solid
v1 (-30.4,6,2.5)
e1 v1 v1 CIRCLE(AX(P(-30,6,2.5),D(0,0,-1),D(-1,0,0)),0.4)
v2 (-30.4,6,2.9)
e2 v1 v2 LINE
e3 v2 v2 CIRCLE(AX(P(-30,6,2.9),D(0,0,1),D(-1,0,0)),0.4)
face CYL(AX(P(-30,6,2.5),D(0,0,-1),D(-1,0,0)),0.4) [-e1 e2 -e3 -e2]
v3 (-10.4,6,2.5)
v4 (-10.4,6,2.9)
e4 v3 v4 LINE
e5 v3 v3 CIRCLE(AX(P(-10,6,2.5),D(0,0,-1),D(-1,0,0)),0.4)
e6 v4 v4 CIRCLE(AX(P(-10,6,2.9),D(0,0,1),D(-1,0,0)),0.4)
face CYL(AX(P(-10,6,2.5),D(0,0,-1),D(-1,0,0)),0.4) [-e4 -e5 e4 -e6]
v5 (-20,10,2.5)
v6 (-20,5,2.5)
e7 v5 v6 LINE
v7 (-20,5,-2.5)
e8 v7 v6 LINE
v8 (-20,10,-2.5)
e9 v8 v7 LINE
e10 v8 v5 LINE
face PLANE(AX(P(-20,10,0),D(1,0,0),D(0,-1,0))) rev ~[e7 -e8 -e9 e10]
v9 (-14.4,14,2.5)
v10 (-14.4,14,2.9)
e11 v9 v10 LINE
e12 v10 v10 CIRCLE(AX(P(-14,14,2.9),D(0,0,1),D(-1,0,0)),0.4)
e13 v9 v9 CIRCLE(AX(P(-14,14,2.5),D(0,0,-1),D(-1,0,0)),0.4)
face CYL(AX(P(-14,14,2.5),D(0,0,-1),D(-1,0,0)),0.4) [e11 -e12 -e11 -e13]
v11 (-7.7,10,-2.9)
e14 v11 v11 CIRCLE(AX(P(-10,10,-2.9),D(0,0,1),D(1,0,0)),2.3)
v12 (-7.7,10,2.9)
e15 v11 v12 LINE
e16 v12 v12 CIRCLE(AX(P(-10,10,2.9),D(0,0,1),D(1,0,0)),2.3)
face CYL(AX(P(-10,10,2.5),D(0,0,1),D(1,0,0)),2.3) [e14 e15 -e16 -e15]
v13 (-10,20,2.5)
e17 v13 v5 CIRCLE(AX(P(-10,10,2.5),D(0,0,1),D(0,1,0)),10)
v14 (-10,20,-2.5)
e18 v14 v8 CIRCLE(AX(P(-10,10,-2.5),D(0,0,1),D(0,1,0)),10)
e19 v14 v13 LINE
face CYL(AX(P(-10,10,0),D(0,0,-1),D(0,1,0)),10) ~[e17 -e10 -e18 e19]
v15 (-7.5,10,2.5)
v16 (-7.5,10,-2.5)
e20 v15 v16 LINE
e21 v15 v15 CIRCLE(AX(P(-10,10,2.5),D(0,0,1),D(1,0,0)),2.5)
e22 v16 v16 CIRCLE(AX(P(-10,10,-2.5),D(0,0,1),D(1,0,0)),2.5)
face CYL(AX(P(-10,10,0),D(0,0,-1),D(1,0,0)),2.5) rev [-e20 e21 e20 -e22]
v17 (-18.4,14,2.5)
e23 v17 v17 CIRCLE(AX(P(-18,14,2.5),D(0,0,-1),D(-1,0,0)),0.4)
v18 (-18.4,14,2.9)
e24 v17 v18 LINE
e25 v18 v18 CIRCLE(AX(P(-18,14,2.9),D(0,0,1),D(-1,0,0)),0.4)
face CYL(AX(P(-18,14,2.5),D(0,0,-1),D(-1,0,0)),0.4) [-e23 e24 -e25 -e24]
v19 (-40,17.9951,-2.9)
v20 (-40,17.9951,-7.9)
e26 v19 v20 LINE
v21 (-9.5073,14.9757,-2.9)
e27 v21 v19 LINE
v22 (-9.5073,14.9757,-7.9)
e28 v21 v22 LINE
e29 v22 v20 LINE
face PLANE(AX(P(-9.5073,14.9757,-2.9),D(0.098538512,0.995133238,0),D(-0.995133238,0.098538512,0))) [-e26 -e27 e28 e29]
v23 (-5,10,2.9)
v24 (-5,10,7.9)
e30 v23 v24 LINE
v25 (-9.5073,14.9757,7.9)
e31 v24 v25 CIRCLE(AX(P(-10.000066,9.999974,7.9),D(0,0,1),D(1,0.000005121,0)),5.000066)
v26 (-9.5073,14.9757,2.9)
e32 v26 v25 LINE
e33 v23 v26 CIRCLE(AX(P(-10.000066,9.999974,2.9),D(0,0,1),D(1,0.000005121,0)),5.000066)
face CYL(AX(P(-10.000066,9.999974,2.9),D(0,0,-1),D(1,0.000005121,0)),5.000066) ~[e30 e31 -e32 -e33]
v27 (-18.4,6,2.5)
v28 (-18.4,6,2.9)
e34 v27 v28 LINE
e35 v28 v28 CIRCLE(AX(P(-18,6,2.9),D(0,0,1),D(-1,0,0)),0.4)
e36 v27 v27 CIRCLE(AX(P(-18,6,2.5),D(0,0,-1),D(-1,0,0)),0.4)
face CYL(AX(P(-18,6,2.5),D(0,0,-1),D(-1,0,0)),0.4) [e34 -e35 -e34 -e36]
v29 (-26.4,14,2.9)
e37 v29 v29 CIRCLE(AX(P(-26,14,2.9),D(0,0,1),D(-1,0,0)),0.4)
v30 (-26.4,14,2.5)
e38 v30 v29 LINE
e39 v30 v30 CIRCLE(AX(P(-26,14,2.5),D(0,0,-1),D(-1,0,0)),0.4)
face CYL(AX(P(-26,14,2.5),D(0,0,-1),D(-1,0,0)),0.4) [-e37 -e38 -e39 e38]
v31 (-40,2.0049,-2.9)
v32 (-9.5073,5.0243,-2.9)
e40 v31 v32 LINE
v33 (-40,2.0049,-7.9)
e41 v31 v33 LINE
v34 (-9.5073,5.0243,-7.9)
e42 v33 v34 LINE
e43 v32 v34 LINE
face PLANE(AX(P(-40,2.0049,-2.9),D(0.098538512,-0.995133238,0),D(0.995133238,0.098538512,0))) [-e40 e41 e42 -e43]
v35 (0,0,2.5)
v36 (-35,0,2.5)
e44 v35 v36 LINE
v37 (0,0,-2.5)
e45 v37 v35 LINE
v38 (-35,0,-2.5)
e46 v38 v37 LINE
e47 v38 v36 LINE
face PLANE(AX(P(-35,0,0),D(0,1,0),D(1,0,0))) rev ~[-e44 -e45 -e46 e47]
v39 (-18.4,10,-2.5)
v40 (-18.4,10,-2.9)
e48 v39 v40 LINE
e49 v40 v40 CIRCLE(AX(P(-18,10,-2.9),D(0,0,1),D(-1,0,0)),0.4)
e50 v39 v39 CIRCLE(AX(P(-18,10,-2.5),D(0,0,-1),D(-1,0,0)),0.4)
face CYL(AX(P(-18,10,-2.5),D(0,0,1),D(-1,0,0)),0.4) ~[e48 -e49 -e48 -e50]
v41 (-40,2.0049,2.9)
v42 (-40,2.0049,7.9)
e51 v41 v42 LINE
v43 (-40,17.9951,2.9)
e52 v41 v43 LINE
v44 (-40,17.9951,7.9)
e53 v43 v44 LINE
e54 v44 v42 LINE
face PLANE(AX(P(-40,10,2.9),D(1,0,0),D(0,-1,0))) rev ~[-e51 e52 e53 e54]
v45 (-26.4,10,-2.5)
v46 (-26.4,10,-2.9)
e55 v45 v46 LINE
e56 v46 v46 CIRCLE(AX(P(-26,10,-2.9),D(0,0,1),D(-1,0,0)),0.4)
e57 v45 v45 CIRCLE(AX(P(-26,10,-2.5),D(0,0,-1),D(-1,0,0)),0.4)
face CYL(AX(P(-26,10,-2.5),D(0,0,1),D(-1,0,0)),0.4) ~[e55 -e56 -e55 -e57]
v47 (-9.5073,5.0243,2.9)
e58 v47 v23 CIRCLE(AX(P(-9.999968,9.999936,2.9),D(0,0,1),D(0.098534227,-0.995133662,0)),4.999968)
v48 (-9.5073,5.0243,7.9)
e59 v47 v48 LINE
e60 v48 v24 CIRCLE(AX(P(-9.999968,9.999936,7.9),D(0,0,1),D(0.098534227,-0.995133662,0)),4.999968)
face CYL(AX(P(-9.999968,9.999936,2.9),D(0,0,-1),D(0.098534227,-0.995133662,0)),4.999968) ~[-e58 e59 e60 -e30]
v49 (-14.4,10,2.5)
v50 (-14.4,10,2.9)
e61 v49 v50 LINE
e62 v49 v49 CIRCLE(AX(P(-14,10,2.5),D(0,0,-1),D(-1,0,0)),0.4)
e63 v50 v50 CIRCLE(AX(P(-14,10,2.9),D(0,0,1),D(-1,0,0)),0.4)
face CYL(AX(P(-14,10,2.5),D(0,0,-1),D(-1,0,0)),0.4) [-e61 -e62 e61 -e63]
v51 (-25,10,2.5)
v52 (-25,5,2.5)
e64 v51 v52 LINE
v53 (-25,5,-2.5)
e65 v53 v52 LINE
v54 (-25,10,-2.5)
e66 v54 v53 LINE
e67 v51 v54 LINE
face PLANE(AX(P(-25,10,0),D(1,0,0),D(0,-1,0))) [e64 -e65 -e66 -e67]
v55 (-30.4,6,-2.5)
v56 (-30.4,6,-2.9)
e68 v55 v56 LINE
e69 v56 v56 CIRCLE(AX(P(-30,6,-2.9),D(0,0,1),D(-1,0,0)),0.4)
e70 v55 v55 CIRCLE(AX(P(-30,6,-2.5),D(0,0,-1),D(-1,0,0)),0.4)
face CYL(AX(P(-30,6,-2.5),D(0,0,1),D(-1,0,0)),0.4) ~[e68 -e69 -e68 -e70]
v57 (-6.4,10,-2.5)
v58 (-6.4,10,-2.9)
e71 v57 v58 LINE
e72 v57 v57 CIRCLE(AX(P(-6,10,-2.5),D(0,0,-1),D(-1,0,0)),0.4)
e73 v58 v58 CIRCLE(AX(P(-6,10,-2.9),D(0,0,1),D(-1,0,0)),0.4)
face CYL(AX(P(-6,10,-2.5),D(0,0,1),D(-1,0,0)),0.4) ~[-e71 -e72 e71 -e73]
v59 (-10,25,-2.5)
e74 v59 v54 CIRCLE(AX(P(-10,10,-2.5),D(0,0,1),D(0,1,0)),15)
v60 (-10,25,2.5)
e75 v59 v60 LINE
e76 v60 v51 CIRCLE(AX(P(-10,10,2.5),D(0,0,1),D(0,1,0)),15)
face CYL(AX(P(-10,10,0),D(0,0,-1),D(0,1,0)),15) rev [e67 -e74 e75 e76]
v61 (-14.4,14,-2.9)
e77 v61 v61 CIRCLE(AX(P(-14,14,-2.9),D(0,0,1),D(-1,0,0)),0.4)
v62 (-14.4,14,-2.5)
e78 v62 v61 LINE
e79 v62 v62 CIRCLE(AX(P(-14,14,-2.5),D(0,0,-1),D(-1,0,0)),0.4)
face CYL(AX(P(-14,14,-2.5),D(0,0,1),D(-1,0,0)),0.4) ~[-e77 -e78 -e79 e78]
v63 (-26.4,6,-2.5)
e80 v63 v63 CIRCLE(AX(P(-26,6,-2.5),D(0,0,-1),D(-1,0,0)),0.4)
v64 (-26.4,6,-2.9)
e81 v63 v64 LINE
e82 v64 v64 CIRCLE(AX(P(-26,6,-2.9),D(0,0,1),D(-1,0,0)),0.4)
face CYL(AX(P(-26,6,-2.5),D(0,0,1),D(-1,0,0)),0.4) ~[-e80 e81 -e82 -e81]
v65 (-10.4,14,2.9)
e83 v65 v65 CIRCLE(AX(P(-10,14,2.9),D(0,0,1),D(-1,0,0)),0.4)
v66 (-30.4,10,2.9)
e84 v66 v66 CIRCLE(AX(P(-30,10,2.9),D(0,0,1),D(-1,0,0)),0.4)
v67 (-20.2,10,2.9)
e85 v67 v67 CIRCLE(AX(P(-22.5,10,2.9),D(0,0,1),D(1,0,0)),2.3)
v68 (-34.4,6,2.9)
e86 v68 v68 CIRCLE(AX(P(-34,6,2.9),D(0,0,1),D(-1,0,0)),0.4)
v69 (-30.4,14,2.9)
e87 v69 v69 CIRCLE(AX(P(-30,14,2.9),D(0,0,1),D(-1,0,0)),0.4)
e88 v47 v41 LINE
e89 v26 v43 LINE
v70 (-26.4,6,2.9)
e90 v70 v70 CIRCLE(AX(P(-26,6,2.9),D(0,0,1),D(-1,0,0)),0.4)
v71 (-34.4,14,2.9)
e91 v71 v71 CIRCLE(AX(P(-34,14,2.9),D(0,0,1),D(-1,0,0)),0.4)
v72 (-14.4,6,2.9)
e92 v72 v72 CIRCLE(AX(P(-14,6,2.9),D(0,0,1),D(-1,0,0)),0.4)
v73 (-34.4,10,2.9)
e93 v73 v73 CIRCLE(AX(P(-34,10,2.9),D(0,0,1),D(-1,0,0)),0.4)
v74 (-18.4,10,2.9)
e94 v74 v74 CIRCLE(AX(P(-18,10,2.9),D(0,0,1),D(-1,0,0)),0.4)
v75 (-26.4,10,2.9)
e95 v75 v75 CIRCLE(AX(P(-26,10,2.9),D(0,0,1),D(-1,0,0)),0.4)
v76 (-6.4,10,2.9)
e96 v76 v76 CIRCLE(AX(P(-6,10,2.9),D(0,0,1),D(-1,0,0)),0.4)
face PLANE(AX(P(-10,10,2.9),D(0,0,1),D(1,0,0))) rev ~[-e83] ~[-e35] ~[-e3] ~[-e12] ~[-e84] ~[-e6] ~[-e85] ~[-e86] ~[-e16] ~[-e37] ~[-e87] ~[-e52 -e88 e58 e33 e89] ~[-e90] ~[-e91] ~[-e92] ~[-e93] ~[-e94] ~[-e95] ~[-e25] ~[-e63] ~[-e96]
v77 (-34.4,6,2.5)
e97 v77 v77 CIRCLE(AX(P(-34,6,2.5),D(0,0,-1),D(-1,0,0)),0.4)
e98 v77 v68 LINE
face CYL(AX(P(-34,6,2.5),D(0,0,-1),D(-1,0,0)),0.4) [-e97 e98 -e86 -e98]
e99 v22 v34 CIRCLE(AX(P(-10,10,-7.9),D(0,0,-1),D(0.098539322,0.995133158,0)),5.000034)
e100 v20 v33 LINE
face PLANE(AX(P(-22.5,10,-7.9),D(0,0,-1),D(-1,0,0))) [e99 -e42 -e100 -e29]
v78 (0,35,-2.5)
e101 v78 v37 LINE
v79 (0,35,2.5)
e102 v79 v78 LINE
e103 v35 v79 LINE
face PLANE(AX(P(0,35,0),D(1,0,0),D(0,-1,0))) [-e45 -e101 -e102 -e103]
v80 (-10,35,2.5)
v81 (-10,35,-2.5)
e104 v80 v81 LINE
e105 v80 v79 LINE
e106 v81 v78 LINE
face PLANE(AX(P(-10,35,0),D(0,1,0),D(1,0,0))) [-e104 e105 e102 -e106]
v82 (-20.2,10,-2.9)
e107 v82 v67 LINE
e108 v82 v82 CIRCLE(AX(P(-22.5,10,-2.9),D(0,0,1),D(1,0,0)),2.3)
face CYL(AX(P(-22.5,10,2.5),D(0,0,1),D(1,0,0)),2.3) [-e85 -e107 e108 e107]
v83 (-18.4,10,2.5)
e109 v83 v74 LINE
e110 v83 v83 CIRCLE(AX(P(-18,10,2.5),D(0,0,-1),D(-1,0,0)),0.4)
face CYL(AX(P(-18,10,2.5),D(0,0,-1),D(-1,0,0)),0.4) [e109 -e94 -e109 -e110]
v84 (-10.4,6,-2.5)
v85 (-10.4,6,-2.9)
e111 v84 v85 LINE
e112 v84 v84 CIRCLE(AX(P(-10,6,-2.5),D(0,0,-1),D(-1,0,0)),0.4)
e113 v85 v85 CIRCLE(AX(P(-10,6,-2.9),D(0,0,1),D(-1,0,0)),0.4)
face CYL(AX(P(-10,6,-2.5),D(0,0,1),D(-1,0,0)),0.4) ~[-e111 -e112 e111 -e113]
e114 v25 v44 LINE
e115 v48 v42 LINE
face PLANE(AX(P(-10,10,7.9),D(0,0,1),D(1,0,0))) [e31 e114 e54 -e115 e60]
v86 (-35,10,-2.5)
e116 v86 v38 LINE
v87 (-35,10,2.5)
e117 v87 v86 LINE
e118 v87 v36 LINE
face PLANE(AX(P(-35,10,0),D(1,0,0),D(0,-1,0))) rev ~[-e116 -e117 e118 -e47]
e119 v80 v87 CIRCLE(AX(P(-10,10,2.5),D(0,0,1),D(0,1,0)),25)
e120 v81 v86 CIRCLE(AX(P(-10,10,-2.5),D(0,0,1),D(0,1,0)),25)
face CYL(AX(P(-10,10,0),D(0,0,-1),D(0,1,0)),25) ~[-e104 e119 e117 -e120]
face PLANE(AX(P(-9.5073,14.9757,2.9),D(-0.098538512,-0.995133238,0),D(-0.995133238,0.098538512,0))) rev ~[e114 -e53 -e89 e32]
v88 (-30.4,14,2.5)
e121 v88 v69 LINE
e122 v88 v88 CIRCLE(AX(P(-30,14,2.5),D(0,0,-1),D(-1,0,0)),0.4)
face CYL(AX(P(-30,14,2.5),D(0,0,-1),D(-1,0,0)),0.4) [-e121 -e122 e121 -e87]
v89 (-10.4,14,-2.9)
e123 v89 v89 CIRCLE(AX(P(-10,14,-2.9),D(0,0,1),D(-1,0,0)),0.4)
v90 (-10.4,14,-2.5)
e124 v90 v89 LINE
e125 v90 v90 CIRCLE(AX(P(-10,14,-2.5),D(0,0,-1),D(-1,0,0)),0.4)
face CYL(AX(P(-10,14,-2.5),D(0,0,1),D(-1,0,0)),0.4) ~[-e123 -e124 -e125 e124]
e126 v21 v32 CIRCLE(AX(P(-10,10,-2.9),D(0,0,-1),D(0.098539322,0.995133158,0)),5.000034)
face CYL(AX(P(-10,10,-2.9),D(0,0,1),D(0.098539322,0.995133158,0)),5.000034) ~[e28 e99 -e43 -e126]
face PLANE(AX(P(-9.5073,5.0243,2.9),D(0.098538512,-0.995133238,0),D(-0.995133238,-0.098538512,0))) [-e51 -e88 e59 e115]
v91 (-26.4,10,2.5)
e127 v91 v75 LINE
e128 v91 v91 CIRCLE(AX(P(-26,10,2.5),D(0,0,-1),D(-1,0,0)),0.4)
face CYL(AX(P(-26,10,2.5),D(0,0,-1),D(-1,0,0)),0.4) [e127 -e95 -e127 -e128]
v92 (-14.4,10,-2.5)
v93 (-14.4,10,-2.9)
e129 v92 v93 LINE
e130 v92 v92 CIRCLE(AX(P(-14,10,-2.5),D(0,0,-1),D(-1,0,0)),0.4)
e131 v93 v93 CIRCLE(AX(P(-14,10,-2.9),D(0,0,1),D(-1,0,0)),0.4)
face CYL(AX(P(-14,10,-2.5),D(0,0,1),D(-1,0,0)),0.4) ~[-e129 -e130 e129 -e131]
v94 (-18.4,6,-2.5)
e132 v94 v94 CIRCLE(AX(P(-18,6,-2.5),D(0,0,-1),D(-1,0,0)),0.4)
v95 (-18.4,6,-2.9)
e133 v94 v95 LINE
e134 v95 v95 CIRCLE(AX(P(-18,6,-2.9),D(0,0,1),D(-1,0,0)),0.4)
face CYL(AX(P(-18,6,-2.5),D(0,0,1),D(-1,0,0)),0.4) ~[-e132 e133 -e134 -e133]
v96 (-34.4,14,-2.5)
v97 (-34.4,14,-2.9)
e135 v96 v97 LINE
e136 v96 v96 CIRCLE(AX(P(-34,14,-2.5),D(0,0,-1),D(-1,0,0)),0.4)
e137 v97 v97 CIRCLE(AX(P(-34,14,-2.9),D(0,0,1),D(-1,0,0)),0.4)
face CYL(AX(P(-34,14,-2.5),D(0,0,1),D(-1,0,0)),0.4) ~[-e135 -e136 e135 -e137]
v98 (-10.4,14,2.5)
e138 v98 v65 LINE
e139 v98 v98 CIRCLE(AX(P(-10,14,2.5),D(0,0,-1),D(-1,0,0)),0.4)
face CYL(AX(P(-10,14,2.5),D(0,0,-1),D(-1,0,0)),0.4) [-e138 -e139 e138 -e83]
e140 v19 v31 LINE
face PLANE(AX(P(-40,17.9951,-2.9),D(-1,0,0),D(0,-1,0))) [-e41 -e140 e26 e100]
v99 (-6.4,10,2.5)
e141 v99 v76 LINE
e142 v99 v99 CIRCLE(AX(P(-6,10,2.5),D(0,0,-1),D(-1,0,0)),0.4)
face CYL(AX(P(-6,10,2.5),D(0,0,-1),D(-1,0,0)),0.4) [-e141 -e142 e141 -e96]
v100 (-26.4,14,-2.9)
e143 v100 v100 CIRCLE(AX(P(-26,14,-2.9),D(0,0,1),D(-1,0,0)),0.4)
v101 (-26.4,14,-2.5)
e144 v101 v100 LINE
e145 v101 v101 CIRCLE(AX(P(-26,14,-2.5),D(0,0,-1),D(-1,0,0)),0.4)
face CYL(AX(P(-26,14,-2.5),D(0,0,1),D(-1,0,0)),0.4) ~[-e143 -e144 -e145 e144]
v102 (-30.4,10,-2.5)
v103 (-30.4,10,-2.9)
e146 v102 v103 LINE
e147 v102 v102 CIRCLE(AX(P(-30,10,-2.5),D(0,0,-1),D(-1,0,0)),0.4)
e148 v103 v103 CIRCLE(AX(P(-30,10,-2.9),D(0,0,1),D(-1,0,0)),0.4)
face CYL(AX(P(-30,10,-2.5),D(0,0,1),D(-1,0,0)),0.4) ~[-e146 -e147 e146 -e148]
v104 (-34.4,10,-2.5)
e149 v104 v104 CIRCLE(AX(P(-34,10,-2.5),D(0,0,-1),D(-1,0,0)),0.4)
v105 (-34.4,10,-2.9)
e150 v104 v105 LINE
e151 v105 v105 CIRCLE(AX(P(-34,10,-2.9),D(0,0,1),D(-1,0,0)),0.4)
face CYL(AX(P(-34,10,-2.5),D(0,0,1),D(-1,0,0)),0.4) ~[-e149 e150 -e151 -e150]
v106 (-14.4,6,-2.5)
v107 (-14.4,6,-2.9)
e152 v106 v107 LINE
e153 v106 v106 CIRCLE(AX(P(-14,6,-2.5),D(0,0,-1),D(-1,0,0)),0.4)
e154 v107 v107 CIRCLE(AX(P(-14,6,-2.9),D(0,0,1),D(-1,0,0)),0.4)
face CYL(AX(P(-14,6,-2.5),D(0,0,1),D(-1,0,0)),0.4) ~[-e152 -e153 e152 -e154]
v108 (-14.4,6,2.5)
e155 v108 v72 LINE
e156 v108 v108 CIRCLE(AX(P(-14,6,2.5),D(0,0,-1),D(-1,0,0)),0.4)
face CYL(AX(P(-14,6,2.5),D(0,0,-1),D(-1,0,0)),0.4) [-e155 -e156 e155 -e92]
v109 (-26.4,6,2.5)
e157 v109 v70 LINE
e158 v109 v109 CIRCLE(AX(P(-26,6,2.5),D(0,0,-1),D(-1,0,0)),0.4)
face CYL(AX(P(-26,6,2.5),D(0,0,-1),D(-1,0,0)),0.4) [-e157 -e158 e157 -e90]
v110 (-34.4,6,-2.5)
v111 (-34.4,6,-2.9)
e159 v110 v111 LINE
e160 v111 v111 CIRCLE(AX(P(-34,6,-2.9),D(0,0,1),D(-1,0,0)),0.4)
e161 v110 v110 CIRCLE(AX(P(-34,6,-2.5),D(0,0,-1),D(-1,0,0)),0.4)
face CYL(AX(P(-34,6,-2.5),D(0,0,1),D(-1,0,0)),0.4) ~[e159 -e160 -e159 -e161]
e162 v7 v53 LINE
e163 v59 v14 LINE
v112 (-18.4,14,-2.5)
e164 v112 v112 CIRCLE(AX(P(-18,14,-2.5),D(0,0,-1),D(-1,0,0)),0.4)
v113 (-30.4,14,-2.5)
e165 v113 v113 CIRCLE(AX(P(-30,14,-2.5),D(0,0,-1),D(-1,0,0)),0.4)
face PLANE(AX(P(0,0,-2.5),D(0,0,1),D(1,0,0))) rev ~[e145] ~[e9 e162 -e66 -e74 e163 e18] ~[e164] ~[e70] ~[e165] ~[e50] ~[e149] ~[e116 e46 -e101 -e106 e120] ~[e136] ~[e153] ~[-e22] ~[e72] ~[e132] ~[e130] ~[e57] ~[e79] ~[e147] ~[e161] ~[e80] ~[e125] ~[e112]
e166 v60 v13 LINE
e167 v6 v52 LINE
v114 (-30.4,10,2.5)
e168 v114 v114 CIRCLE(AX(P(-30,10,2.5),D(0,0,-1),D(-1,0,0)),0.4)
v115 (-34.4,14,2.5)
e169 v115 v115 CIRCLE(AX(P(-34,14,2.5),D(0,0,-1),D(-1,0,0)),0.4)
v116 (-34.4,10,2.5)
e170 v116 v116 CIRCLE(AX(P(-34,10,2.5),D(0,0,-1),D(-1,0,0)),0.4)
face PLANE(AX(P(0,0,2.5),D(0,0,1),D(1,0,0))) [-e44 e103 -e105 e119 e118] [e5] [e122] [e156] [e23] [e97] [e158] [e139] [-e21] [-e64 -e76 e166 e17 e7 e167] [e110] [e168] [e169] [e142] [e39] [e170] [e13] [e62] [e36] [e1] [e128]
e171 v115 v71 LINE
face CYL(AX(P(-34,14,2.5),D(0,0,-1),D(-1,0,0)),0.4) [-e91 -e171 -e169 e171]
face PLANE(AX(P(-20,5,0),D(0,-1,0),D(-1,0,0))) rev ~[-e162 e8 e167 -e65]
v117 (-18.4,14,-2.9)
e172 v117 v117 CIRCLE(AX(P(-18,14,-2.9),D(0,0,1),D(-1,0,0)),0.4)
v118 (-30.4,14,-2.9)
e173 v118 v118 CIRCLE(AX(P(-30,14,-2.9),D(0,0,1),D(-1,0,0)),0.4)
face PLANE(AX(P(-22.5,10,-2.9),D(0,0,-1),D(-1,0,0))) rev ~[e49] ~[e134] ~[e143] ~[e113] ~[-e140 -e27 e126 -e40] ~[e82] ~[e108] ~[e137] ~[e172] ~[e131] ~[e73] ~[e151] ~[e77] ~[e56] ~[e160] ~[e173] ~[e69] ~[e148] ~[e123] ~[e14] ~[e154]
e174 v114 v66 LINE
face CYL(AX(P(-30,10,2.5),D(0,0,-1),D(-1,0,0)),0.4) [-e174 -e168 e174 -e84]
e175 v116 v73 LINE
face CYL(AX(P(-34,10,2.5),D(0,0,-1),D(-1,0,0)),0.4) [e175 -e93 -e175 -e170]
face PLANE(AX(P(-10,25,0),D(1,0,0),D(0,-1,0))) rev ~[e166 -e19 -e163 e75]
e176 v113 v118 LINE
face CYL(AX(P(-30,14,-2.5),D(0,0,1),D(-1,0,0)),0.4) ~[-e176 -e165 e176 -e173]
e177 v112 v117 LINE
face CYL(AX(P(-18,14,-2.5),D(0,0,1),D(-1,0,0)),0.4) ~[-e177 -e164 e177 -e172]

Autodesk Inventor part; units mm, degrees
ref_plane "YZ Plane" through (0, 0, 0) normal (1, 0, 0) x (0, 1, 0)
ref_plane "XZ Plane" through (0, 0, 0) normal (0, 1, 0) x (-1, 0, 0)
ref_plane "XY Plane" through (0, 0, 0) normal (0, 0, 1) x (1, 0, 0)
sketch "Boceto1" plane through (0, 0, 0) normal (0, 0, 1) x (1, 0, 0)
  line L0 (-35, 0) -> (15, 0)
  line L1 (-20, 10) -> (-20, 0)
  arc A0 (-10, 20) -> (-20, 10) centre (-10, 10) ccw
  arc A1 (-10, 25) -> (-25, 10) centre (-10, 10) ccw
  line L2 (-25, 10) -> (-25, 0)
  arc A2 (-10, 35) -> (-35, 10) centre (-10, 10) ccw
  line L3 (-35, 10) -> (-35, 0)
  line L4 (-35, 0) -> (-10, 0)
  circle A3 centre (-10, 10) radius 2.5
  line L5 (-10, 20) -> (0, 20)
  line L6 (0, 20) -> (0, 21.1803)
  line L7 (0, 25) -> (-10, 25)
  line L8 (-10, 35) -> (0, 35)
  line L9 (0, 35) -> (0, 25)
  line L10 (0, 20) -> (0, 0)
  line L11 (0, 0) -> (-10, 0)
  line L12 (0, 25) -> (0, 20)
  line L13 (-10, 25) -> (-10, 20)
  line L14 (-20, 5) -> (-25, 5)
  point P0 (0, 0)
  dimension "d0" = 20
  dimension "d1" = 25
  dimension "d2" = 10
  dimension "d3" = 10
  dimension "d4" = 5
  dimension "d6" = 35
extrude "Extrusión1" add sketch "Boceto1" along normal mid plane 5 contours L3 A2 L8 L9 L7 A1 L2 L0 | L2 L14 L1 L0 | L1 A0 L5 L10 L0 | L7 L12 L6 L5 L13
sketch "Boceto2" plane through (0, 0, 2.5) normal (0, 0, 1) x (1, 0, 0)
  circle A0 centre (-10, 10) radius 2.3
  circle A1 centre (-22.5, 10) radius 2.3
  circle A2 centre (-10, 10) radius 2.5 projected
  point P0 (0, 0)
  dimension "d9" = 4.6
  dimension "d10" = 4.6
extrude "Extrusión2" add sketch "Boceto2" along normal blind 0.4 and the other way blind 5.4 contours A0 | A1
sketch "Boceto3" plane through (-10, 10, 2.9) normal (0, 0, 1) x (1, 0, 0)
  arc A0 (5, 0) -> (0.4927, 4.9757) centre (0, 0) ccw
  line L0 (-30, 0) -> (-30, 7.9951)
  line L1 (0.4927, 4.9757) -> (-30, 7.9951)
  line L2 (-30, 0) -> (-30, -7.9951)
  line L3 (0.4927, -4.9757) -> (-30, -7.9951)
  arc A1 (0.4927, -4.9757) -> (5, 0) centre (0, 0) ccw
  circle A2 centre (0, 0) radius 2.3 projected
  point P0 (10, -10)
  dimension "d15" = 10
extrude "Extrusión3" add sketch "Boceto3" along normal blind 5 contours A1 L3 L2 L0 L1 A0 | A2
sketch "Boceto4" plane through (-22.5, 10, -2.9) normal (0, 0, -1) x (-1, 0, 0)
  circle A0 centre (0, 0) radius 2.3 projected
  circle A1 centre (-12.5, 0) radius 2.3 projected
  line L0 (-12.9927, 4.9757) -> (17.5, 7.9951) projected
  arc A2 (-12.9927, 4.9757) -> (-12.9927, -4.9757) centre (-12.5, 0) ccw projected
  line L1 (17.5, -7.9951) -> (-12.9927, -4.9757) projected
  line L2 (17.5, 7.9951) -> (17.5, -7.9951) projected
  point P0 (-22.5, -10)
extrude "Extrusión4" add sketch "Boceto4" along normal blind 5 contours A0 | A1 | L0 L2 L1 A2
sketch "Boceto5" plane through (0, 0, -2.5) normal (0, 0, -1) x (-1, 0, 0)
  circle A0 centre (10, 10) radius 2.3 projected
  circle A1 centre (10, 10) radius 0.4
  line L0 (10, 10) -> (10, 1.6419)
  line L1 (10, 1.6419) -> (12.8355, 1.6419)
  circle A2 centre (10, 6) radius 0.4
  circle A3 centre (10, 6) radius 0.4
  circle A4 centre (14, 10) radius 0.4
  circle A5 centre (14, 6) radius 0.4
  circle A6 centre (12, 6) radius 0.4
  circle A7 centre (18, 10) radius 0.4
  circle A8 centre (18, 6) radius 0.4
  circle A9 centre (14, 6) radius 0.4
  circle A10 centre (22, 10) radius 0.4
  circle A11 centre (22, 6) radius 0.4
  circle A12 centre (16, 6) radius 0.4
  circle A13 centre (26, 10) radius 0.4
  circle A14 centre (26, 6) radius 0.4
  circle A15 centre (18, 6) radius 0.4
  circle A16 centre (30, 10) radius 0.4
  circle A17 centre (30, 6) radius 0.4
  circle A18 centre (20, 6) radius 0.4
  circle A19 centre (34, 10) radius 0.4
  circle A20 centre (34, 6) radius 0.4
  circle A21 centre (22, 6) radius 0.4
  circle A22 centre (24, 10) radius 0.4
  circle A23 centre (24, 8) radius 0.4
  circle A24 centre (24, 6) radius 0.4
  circle A25 centre (26, 10) radius 0.4
  circle A26 centre (26, 8) radius 0.4
  circle A27 centre (26, 6) radius 0.4
  circle A28 centre (28, 10) radius 0.4
  circle A29 centre (28, 8) radius 0.4
  circle A30 centre (28, 6) radius 0.4
  circle A31 centre (30, 10) radius 0.4
  circle A32 centre (30, 8) radius 0.4
  circle A33 centre (30, 6) radius 0.4
  circle A34 centre (32, 10) radius 0.4
  circle A35 centre (32, 8) radius 0.4
  circle A36 centre (32, 6) radius 0.4
  circle A37 centre (34, 10) radius 0.4
  circle A38 centre (34, 8) radius 0.4
  circle A39 centre (34, 6) radius 0.4
  circle A40 centre (36, 10) radius 0.4
  circle A41 centre (36, 8) radius 0.4
  circle A42 centre (36, 6) radius 0.4
  circle A43 centre (38, 10) radius 0.4
  circle A44 centre (38, 8) radius 0.4
  circle A45 centre (38, 6) radius 0.4
  circle A46 centre (10, 14) radius 0.4
  line L2 (10, 14) -> (10, 5.6419)
  circle A47 centre (10, 10) radius 0.4
  circle A48 centre (18, 14) radius 0.4
  circle A49 centre (18, 10) radius 0.4
  circle A50 centre (14, 10) radius 0.4
  circle A51 centre (14, 14) radius 0.4
  circle A52 centre (14, 10) radius 0.4
  circle A53 centre (12, 10) radius 0.4
  circle A54 centre (10, 10) radius 0.4
  circle A55 centre (16, 10) radius 0.4
  circle A56 centre (34, 14) radius 0.4
  circle A57 centre (34, 10) radius 0.4
  circle A58 centre (22, 10) radius 0.4
  circle A59 centre (24, 10) radius 0.4
  circle A60 centre (24, 12) radius 0.4
  circle A61 centre (24, 14) radius 0.4
  circle A62 centre (26, 10) radius 0.4
  circle A63 centre (26, 14) radius 0.4
  circle A64 centre (26, 12) radius 0.4
  circle A65 centre (28, 14) radius 0.4
  circle A66 centre (28, 12) radius 0.4
  circle A67 centre (28, 10) radius 0.4
  circle A68 centre (30, 10) radius 0.4
  circle A69 centre (30, 12) radius 0.4
  circle A70 centre (30, 14) radius 0.4
  circle A71 centre (32, 10) radius 0.4
  circle A72 centre (32, 12) radius 0.4
  circle A73 centre (32, 14) radius 0.4
  circle A74 centre (34, 14) radius 0.4
  circle A75 centre (34, 12) radius 0.4
  circle A76 centre (34, 10) radius 0.4
  circle A77 centre (36, 12) radius 0.4
  circle A78 centre (36, 10) radius 0.4
  circle A79 centre (36, 14) radius 0.4
  circle A80 centre (38, 10) radius 0.4
  circle A81 centre (38, 12) radius 0.4
  circle A82 centre (38, 14) radius 0.4
  circle A83 centre (22, 10) radius 0.4
  circle A84 centre (26, 10) radius 0.4
  circle A85 centre (18, 10) radius 0.4
  circle A86 centre (26, 14) radius 0.4
  circle A87 centre (20, 10) radius 0.4
  circle A88 centre (30, 10) radius 0.4
  circle A89 centre (30, 14) radius 0.4
  circle A90 centre (22, 14) radius 0.4
  circle A91 centre (12, 10) radius 0.4
  circle A92 centre (12, 6) radius 0.4
  circle A93 centre (8, 6) radius 0.4
  circle A94 centre (8, 10) radius 0.4
  circle A95 centre (8, 6) radius 0.4
  circle A96 centre (6, 6) radius 0.4
  circle A97 centre (12, 14) radius 0.4
  circle A98 centre (12, 10) radius 0.4
  circle A99 centre (8, 10) radius 0.4
  circle A100 centre (8, 14) radius 0.4
  circle A101 centre (8, 10) radius 0.4
  circle A102 centre (6, 10) radius 0.4
  point P0 (0, 0)
  dimension "d20" = 0.8
  dimension "d23" = 4
  dimension "d26" = 4
  dimension "d31" = 4
  dimension "d38" = 6
extrude "Extrusión5" add sketch "Boceto5" along normal up to next contours A2 L0 | L0 A2 | A46 | A4 | A5 | A7 | A8 | A13 | A14 | A16 | A17 | A19 | A20 | A48 | A51 | A56 | A63 | A70 | A102
mirror "Simetría1" about plane through (0, 0, 0) normal (0, 0, 1) of "Extrusión5"
properties part number "Prueba de soportes mecanismo_3DPrint"
